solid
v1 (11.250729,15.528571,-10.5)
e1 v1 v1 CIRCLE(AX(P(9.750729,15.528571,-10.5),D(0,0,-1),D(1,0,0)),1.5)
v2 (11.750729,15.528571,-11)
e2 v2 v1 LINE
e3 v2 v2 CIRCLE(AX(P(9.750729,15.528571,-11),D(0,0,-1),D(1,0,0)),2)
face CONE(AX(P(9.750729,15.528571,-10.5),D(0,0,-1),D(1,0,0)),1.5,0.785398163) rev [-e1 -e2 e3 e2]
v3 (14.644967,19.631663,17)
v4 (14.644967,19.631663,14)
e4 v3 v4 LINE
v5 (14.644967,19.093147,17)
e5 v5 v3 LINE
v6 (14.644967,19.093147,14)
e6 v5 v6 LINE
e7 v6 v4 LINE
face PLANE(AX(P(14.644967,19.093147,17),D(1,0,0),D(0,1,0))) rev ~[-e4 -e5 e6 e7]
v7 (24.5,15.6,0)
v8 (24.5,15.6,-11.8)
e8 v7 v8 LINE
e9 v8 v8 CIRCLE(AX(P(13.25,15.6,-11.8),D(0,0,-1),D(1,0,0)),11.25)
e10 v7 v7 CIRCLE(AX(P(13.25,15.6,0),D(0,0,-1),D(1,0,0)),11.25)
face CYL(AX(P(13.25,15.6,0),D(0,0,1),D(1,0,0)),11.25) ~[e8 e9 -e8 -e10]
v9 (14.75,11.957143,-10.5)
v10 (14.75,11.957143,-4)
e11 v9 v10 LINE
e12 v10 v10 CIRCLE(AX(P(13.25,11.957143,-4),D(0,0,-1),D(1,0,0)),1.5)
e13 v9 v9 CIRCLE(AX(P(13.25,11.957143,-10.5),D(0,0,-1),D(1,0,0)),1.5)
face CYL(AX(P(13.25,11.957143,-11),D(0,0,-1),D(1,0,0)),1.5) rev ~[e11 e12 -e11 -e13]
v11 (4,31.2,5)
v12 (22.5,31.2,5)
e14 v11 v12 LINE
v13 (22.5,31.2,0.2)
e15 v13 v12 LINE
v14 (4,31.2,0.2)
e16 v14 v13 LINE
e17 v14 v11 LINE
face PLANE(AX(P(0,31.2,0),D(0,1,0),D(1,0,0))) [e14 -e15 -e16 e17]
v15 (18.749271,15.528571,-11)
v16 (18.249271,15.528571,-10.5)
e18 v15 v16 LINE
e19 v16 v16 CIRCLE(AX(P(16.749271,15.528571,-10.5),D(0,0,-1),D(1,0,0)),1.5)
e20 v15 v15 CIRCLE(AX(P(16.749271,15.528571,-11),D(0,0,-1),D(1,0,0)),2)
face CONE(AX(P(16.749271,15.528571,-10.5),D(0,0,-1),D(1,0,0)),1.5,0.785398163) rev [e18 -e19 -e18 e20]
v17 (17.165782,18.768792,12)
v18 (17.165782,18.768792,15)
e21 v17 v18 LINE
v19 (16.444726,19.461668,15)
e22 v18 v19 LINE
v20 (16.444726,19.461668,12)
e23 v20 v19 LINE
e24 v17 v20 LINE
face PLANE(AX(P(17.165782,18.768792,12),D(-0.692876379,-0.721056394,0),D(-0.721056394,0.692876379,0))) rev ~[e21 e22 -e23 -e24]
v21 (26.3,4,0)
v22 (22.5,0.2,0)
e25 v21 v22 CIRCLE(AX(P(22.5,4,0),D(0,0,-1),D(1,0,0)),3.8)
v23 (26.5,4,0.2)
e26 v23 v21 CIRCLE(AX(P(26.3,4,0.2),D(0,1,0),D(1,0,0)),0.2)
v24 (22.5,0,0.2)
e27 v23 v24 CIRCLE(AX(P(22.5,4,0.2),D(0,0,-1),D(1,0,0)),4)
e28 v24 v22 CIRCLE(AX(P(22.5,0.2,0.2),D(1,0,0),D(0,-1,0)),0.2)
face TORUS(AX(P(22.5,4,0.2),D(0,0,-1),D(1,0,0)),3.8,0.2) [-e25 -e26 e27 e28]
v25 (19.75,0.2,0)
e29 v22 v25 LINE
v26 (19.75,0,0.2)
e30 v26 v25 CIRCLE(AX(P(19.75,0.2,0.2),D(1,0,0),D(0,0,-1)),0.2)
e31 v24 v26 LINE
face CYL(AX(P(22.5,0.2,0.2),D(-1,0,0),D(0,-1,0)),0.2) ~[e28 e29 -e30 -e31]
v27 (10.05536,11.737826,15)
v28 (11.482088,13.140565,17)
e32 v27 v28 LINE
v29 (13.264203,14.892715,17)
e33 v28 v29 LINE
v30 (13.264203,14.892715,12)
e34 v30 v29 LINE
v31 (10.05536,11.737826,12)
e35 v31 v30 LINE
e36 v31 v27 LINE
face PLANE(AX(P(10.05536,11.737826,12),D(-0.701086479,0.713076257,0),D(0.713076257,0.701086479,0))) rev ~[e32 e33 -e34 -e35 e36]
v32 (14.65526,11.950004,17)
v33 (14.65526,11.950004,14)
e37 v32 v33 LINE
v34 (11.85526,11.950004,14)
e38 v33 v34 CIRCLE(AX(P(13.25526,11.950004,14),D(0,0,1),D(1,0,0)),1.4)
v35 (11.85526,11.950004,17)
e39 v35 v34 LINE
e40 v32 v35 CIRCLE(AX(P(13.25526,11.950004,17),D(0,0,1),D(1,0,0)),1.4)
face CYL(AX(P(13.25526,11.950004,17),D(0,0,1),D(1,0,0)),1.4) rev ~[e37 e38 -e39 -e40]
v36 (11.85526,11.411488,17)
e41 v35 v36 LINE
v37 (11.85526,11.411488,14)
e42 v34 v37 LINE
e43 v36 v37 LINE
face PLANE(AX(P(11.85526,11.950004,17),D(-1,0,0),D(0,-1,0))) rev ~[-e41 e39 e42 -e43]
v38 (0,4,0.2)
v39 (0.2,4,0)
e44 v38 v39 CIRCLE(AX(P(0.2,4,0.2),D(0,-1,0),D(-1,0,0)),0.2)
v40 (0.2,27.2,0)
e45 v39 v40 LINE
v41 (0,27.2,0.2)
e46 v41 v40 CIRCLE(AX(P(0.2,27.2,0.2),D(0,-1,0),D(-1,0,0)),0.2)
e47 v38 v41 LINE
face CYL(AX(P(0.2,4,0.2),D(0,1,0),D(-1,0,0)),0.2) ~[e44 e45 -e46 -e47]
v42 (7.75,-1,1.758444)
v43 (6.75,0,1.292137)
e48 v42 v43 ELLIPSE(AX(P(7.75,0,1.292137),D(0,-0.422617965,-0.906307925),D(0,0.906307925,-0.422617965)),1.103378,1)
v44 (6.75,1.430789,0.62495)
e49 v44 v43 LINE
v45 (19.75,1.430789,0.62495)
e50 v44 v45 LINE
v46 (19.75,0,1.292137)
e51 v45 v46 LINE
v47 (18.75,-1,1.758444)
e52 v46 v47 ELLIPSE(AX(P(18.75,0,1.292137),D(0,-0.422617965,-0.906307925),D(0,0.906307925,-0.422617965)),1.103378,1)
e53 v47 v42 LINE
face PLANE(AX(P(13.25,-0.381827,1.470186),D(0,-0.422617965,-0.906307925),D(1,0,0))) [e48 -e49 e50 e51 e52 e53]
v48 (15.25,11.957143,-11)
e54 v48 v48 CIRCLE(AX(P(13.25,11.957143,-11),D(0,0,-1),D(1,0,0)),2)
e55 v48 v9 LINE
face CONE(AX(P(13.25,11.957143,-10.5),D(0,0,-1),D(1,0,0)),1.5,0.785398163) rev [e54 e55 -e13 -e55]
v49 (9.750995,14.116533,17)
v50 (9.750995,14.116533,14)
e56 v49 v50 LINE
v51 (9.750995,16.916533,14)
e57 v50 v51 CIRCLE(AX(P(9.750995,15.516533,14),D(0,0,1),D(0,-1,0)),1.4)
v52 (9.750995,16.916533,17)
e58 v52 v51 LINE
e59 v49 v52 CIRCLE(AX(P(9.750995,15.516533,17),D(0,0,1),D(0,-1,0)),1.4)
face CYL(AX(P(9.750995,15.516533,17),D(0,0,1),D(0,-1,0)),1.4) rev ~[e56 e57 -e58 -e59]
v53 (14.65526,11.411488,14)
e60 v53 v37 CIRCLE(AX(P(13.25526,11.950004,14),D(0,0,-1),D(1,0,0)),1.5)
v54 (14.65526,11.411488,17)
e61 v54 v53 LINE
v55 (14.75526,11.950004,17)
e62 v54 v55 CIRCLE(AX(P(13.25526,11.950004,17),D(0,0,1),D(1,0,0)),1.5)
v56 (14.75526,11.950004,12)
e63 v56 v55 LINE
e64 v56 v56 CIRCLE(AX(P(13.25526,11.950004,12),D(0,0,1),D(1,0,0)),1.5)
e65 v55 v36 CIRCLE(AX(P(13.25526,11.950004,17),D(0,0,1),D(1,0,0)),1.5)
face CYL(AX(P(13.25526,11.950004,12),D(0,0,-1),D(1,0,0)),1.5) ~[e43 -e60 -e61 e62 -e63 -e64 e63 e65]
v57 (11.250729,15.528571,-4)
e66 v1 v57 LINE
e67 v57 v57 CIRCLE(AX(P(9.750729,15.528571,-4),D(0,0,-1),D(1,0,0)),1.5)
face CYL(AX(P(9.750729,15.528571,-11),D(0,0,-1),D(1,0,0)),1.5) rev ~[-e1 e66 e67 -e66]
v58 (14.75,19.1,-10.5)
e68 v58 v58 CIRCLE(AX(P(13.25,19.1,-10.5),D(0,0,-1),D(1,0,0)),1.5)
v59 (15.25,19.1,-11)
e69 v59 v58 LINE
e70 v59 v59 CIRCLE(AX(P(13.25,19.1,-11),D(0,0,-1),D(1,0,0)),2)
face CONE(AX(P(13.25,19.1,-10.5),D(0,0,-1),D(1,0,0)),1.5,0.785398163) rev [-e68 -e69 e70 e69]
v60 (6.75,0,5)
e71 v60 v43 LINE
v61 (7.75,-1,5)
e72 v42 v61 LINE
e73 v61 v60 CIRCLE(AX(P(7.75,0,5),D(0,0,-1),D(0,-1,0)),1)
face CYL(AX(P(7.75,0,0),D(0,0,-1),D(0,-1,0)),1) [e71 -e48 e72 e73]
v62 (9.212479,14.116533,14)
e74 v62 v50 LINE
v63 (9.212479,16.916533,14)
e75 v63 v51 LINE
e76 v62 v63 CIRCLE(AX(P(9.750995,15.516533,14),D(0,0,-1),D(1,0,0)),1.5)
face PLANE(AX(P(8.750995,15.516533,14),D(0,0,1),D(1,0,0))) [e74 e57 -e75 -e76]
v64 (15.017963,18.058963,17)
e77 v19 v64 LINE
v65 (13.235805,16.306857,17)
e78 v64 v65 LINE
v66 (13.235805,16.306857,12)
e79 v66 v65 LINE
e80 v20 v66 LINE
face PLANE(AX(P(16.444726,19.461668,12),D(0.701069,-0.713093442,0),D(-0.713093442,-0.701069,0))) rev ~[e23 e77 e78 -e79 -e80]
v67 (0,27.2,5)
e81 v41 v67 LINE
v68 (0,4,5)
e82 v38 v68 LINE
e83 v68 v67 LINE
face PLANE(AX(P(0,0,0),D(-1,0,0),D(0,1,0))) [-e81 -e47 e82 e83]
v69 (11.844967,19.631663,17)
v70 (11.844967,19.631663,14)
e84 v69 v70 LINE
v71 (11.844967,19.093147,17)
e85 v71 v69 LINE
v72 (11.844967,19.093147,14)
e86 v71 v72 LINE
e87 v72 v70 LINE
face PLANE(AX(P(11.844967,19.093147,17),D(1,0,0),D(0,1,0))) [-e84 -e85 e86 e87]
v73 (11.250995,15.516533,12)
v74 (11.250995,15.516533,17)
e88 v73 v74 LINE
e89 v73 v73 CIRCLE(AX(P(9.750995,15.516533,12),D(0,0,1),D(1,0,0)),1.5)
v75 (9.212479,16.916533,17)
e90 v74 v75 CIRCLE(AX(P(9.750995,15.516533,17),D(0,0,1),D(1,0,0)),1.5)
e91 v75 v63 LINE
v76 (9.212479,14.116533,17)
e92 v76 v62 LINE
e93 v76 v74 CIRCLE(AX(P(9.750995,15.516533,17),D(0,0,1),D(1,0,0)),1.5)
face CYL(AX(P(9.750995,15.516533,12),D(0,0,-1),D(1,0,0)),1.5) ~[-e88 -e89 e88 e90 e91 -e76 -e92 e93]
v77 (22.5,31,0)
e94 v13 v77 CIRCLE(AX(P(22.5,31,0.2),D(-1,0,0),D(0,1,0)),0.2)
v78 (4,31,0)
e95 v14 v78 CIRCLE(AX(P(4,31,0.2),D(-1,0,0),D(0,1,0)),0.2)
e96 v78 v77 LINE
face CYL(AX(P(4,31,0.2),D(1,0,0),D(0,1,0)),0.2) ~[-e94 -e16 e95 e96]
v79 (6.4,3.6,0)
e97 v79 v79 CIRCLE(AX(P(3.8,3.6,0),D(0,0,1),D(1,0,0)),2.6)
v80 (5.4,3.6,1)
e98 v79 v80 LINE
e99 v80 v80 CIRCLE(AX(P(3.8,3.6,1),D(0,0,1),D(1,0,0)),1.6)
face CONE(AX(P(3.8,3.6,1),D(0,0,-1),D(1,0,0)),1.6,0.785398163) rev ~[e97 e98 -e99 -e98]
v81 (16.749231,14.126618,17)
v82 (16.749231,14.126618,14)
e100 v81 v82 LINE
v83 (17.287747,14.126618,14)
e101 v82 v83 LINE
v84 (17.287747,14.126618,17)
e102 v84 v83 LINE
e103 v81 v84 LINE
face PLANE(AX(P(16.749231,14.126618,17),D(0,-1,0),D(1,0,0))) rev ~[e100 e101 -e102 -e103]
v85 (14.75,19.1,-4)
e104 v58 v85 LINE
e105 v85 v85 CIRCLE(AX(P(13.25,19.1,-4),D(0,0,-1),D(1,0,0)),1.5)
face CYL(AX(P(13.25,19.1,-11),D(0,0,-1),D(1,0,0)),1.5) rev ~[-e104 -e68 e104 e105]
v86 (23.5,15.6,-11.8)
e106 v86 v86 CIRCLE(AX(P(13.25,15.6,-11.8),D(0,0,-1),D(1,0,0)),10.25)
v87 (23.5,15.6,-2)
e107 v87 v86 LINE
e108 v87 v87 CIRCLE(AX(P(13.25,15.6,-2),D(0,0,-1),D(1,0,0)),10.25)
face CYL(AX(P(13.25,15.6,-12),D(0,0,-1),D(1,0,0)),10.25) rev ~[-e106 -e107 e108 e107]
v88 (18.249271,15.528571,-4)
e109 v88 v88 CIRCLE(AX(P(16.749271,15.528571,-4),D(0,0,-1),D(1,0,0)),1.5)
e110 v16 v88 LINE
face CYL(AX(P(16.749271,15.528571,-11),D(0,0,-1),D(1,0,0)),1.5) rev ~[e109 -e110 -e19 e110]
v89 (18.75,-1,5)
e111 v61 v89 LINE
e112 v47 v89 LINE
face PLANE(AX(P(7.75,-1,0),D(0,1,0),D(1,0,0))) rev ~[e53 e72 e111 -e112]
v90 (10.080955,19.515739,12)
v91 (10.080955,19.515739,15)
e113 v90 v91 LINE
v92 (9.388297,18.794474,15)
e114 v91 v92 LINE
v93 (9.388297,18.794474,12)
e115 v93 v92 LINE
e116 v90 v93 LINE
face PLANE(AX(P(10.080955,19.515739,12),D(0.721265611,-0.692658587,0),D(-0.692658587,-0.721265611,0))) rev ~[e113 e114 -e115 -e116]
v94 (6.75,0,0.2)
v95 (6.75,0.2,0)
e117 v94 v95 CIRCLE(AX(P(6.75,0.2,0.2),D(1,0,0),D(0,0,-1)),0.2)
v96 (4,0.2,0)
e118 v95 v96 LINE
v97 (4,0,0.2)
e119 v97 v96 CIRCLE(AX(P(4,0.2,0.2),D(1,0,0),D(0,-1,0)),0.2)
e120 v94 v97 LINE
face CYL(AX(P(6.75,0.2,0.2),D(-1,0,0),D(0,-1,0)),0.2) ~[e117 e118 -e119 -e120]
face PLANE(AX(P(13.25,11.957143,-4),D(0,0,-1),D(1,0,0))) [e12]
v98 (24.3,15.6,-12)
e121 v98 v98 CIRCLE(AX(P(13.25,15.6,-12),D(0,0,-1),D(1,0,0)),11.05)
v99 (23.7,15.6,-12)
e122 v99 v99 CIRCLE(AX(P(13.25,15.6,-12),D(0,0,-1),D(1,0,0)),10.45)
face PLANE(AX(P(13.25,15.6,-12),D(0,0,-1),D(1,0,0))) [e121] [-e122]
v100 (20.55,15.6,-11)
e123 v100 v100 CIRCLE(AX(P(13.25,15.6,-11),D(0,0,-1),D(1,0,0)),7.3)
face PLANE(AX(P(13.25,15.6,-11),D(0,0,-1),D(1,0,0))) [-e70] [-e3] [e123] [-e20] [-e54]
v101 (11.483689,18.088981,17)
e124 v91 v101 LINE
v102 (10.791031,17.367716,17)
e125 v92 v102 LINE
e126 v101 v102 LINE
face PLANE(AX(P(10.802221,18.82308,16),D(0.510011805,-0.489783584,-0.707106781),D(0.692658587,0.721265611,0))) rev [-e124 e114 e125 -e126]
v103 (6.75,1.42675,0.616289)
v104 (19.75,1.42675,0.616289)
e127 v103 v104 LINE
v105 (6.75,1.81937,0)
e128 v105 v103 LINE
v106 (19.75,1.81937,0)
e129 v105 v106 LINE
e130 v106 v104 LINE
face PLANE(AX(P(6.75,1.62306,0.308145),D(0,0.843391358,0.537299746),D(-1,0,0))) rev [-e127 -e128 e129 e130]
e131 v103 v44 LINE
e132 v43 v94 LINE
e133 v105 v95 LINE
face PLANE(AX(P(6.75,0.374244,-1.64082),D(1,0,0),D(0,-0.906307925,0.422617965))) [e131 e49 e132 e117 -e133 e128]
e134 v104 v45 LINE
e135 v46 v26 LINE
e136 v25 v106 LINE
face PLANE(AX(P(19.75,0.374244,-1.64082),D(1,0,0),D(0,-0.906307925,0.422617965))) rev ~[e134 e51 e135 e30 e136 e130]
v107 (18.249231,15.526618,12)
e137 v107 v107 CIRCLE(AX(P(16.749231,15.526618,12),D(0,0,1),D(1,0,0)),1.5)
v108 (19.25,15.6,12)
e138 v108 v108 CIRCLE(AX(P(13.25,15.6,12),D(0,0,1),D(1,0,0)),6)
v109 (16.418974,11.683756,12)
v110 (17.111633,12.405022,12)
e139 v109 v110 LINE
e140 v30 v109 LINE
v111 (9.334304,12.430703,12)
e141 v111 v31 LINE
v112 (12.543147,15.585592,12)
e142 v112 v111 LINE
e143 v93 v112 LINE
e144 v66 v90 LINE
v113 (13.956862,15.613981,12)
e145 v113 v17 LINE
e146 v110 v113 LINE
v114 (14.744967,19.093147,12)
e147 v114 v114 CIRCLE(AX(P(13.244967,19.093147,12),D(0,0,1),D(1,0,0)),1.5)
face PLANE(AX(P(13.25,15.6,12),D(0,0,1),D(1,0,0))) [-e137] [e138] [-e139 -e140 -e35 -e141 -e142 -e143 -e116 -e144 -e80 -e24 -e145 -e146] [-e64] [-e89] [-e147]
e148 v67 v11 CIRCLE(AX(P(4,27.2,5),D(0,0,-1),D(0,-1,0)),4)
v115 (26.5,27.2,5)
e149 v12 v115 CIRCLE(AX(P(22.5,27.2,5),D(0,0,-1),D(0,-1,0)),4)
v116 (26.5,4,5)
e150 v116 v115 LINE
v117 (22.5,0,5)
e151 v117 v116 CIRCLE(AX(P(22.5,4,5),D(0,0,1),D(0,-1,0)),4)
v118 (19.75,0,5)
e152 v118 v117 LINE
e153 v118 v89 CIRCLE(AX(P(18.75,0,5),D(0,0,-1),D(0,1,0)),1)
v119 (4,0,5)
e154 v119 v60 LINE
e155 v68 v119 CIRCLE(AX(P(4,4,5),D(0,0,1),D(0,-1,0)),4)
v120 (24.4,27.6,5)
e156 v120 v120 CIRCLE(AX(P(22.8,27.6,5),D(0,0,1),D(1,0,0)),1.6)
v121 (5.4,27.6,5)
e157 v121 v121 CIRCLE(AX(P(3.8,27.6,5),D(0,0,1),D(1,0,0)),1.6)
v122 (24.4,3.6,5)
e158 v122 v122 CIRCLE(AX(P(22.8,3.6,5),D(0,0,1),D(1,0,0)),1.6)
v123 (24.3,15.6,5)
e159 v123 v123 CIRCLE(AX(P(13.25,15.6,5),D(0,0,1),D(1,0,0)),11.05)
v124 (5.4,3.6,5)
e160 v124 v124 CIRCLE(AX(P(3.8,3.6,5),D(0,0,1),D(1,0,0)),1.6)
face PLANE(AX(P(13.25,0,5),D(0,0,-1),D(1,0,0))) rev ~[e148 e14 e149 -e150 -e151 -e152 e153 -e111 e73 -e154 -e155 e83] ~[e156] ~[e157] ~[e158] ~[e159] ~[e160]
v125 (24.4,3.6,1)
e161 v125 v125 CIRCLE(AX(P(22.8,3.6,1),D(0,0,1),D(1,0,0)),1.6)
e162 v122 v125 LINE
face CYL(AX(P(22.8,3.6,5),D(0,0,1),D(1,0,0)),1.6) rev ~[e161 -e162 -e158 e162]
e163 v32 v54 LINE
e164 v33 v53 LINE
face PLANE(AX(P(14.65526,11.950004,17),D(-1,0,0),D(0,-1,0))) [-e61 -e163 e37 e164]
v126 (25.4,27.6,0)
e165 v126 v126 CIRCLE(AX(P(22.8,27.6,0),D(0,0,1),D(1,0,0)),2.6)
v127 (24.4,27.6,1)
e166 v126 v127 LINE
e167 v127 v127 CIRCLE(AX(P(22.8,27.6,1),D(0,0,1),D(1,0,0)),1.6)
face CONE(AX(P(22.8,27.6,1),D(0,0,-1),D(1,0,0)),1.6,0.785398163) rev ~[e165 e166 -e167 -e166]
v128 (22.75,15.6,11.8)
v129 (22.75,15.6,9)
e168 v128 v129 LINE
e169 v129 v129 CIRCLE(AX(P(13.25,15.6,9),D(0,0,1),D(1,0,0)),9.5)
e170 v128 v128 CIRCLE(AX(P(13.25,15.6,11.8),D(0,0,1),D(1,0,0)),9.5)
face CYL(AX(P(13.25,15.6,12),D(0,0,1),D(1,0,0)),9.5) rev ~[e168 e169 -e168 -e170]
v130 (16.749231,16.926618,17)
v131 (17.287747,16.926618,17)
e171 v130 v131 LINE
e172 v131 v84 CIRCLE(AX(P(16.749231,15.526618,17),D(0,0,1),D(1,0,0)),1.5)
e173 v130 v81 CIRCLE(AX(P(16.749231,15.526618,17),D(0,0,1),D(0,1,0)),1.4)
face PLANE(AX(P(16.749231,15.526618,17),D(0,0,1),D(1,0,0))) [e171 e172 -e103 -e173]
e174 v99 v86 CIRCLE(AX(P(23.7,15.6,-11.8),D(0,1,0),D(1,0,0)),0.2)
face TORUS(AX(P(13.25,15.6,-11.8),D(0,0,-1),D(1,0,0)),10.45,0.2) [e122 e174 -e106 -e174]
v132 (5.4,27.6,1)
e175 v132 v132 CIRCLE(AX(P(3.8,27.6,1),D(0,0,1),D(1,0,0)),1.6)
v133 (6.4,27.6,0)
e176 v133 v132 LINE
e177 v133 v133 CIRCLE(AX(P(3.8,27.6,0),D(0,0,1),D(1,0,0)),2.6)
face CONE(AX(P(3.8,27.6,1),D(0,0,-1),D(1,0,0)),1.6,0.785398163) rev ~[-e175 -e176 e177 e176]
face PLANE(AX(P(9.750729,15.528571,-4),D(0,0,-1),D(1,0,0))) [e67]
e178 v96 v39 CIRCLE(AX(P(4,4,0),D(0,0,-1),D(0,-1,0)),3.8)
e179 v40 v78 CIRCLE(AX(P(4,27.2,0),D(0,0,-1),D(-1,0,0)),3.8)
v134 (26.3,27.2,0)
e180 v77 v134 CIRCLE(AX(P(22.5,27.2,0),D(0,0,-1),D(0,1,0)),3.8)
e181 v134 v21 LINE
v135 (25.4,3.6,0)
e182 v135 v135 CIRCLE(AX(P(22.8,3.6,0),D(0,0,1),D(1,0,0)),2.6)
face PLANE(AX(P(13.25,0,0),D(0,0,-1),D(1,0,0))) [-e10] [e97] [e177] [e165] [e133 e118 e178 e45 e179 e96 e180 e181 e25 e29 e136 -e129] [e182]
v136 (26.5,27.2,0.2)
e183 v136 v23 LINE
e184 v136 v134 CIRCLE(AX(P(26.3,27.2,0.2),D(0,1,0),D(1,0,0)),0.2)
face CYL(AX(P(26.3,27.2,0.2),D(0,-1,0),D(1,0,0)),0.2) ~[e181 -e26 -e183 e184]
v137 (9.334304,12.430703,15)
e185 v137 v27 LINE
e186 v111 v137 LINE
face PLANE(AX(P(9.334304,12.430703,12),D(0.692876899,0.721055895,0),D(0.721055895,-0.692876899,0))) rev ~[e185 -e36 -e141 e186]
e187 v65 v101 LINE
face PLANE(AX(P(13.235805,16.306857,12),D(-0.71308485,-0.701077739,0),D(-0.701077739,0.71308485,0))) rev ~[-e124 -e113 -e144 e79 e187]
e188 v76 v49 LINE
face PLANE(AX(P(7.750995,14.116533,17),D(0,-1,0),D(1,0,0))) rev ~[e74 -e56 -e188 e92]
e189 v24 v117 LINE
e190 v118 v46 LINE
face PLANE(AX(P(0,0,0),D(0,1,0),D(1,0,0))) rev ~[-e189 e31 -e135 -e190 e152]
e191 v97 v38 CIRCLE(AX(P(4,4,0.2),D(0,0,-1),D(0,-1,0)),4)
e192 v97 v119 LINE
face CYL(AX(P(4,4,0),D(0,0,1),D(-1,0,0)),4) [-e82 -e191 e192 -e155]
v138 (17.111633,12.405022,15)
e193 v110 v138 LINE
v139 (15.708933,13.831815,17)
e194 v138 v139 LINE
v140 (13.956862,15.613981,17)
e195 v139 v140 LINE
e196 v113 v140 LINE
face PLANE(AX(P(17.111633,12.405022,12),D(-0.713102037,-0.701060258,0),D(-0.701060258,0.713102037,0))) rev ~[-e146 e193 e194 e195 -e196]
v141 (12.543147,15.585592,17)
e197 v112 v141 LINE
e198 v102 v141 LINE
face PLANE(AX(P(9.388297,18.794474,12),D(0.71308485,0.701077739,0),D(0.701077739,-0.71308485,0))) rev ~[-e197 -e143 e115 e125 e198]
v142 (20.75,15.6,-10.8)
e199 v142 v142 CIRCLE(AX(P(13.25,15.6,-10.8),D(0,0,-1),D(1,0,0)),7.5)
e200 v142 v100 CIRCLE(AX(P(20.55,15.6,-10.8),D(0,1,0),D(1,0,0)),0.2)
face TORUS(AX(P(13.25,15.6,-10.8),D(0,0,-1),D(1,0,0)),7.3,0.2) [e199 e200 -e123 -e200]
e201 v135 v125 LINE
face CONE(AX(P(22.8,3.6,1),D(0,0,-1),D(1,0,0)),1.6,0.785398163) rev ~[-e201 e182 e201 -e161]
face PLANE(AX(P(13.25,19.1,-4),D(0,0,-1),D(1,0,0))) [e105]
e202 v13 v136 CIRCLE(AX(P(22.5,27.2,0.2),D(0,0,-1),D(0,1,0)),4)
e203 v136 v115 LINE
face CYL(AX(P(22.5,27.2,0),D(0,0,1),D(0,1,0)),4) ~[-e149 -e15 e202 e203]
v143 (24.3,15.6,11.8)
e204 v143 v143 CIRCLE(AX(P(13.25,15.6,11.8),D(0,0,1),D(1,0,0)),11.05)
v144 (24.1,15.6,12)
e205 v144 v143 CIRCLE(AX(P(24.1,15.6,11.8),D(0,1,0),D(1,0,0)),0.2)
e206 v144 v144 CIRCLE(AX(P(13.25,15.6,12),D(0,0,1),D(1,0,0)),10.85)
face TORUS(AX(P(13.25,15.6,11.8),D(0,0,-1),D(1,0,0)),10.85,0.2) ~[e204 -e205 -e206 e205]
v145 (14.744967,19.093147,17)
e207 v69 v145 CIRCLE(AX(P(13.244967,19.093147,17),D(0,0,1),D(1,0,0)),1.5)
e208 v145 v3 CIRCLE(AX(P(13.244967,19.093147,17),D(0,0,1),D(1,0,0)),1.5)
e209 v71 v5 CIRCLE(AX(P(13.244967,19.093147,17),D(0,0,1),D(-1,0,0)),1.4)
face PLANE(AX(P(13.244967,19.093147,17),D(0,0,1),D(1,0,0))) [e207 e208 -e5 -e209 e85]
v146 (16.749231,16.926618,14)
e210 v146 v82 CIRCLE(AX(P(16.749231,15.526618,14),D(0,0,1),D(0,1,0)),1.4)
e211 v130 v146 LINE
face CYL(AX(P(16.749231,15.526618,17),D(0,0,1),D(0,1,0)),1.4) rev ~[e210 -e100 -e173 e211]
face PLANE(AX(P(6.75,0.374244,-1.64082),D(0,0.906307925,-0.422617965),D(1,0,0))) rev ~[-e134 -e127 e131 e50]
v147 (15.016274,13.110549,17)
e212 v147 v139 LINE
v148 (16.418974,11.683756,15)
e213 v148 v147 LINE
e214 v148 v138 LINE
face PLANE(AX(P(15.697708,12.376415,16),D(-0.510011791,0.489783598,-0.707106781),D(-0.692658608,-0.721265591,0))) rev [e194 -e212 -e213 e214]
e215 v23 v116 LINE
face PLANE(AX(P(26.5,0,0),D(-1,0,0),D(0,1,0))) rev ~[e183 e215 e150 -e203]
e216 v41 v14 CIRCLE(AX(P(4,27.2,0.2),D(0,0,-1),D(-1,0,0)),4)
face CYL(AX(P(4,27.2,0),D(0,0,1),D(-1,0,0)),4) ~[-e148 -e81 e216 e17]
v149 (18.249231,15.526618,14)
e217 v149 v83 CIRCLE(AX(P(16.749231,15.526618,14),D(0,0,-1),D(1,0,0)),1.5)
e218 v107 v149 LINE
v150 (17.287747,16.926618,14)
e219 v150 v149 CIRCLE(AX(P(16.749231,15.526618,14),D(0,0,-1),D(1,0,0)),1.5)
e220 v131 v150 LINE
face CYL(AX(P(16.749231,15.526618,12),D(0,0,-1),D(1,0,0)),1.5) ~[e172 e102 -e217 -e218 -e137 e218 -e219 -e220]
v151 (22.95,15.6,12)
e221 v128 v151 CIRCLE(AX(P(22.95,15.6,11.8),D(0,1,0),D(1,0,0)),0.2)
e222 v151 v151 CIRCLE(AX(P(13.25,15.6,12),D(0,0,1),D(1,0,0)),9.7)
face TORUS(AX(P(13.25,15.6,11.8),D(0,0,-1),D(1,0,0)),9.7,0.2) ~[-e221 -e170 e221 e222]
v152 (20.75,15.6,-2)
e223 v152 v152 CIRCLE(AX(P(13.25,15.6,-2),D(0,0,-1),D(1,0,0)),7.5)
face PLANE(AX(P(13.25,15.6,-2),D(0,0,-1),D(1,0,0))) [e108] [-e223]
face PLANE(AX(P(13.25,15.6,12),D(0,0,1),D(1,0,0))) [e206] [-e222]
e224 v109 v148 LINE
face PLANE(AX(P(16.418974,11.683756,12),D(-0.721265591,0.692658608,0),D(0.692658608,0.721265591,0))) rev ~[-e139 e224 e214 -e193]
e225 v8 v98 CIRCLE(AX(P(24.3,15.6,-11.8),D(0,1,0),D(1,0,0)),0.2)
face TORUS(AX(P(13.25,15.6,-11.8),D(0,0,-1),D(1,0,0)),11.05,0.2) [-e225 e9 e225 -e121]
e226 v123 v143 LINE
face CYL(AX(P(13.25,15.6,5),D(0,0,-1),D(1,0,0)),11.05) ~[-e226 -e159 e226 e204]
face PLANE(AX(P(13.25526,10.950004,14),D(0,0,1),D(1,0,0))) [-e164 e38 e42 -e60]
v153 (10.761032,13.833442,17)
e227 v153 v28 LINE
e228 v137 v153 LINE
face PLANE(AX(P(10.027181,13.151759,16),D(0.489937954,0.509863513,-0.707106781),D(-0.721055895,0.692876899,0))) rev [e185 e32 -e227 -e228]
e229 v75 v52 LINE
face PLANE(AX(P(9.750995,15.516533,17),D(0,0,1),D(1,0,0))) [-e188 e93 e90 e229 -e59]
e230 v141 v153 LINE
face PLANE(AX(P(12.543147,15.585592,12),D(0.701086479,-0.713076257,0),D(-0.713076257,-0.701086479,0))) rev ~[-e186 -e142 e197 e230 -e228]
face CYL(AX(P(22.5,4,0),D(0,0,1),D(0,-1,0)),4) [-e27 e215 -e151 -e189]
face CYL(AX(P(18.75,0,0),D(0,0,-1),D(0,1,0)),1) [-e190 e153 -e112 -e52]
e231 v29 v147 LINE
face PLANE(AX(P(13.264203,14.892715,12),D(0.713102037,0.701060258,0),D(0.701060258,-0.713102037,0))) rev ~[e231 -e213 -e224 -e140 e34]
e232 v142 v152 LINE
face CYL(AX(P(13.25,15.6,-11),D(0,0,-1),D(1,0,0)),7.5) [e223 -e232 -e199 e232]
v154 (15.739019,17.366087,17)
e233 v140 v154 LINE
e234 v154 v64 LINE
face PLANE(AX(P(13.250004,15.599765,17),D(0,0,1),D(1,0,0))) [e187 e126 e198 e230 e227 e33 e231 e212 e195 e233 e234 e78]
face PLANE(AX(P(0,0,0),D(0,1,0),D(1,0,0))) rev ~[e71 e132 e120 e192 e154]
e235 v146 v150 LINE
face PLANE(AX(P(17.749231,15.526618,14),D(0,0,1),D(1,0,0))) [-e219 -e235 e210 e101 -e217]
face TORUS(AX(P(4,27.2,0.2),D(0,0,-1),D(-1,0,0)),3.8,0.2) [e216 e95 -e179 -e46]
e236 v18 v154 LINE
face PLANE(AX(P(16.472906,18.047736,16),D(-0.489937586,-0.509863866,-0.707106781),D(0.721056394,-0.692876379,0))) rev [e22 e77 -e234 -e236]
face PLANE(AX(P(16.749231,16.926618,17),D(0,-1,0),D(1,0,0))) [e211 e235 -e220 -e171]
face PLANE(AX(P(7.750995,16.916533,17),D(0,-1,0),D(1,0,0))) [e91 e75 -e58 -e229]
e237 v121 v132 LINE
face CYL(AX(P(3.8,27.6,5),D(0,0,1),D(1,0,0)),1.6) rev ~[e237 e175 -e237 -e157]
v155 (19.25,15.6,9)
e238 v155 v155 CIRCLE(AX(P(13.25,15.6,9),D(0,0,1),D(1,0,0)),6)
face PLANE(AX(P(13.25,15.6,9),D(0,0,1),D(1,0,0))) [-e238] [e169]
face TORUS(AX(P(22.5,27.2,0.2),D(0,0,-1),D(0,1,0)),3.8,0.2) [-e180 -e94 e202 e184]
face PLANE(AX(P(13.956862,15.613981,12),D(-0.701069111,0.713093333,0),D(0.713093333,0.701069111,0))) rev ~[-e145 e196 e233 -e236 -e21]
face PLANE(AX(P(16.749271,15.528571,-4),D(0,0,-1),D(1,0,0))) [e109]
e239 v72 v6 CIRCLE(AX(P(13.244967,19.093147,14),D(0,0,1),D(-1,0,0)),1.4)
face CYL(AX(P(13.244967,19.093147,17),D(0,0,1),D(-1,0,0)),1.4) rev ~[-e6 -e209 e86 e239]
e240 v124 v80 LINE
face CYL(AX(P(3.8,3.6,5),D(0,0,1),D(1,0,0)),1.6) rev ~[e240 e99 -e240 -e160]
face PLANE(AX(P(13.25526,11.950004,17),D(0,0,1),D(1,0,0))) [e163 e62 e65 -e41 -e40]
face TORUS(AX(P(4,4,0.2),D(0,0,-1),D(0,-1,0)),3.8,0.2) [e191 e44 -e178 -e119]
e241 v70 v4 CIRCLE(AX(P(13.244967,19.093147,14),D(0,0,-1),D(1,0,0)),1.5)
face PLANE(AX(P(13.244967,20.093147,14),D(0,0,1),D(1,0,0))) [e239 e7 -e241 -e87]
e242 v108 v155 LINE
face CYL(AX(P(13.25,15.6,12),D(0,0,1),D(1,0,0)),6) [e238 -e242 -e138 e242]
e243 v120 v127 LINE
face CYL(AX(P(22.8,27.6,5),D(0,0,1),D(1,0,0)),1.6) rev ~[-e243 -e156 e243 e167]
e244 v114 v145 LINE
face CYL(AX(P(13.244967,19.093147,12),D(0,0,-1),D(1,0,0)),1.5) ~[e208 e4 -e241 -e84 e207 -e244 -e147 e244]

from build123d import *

# Parameters (mm, degrees)
SKETCH_W        = 26.5
SKETCH_H        = 31.2
PAD_DEPTH       = 5
SKETCH001_R     = 1.6
POCKET_DEPTH    = 5
FILLET_R        = 4
SKETCH002_R     = 11.25
PAD001_DEPTH    = 12
SKETCH003_R     = 11.05
PAD002_DEPTH    = 7
CHAMFER_SIZE    = 1
PAD003_DEPTH    = 5
SKETCH005_W     = 13
SKETCH005_H     = 4
POCKET001_DEPTH = 2.5
CHAMFER001_SIZE = 0.68
SKETCH006_R     = 10.25
POCKET002_DEPTH = 1
SKETCH007_R     = 10.25
SKETCH007_R_2   = 7.5
POCKET003_DEPTH = 9
SKETCH008_R     = 1.5
POCKET004_DEPTH = 7
CHAMFER002_SIZE = 0.5
SKETCH009_R     = 1.5
PAD004_DEPTH    = 5
CHAMFER003_SIZE = 2
POCKET005_DEPTH = 3
SKETCH011_R     = 9.5
SKETCH011_R_2   = 6
POCKET006_DEPTH = 3
FILLET001_R     = 0.2


with BuildPart() as part:
    # Sketch → Pad (new body)
    with BuildSketch(Plane.XY):
        with Locations((13.25, 15.6)):
            Rectangle(SKETCH_W, SKETCH_H)
    extrude(amount=PAD_DEPTH)

    # Sketch001 (on Face6 of Pad) → Pocket (cut)
    with BuildSketch(Plane.XY.offset(5)):
        with Locations((3.8, 27.6)):
            Circle(SKETCH001_R)
        with Locations((22.8, 27.6)):
            Circle(SKETCH001_R)
        with Locations((22.8, 3.6)):
            Circle(SKETCH001_R)
        with Locations((3.8, 3.6)):
            Circle(SKETCH001_R)
    extrude(amount=-POCKET_DEPTH, mode=Mode.SUBTRACT)

    # Fillet
    fillet_edges = [part.edges().sort_by_distance(p)[0] for p in [
        (26.5, 31.2, 2.5),
        (26.5, 0, 2.5),
        (0, 31.2, 2.5),
        (0, 0, 2.5),
    ]]
    fillet(fillet_edges, radius=FILLET_R)

    # Sketch002 (on Face2 of Fillet) → Pad001 (join)
    with BuildSketch(Plane(origin=(0, 0, 0), x_dir=(1, 0, 0), z_dir=(0, 0, -1))):
        with Locations((13.25, -15.6)):
            Circle(SKETCH002_R)
    extrude(amount=PAD001_DEPTH)

    # Sketch003 (on Face5 of Pad001) → Pad002 (join)
    with BuildSketch(Plane.XY.offset(5)):
        with Locations((13.25, 15.6)):
            Circle(SKETCH003_R)
    extrude(amount=PAD002_DEPTH)

    # Chamfer
    chamfer_edges = [part.edges().sort_by_distance(p)[0] for p in [
        (21.2, 27.6, 0),
        (2.2, 3.6, 0),
        (21.2, 3.6, 0),
        (2.2, 27.6, 0),
    ]]
    chamfer(chamfer_edges, length=CHAMFER_SIZE)

    # Sketch004 (on Face1 of Chamfer) → Pad003 (join)
    with BuildSketch(Plane(origin=(0, 0, 0), x_dir=(1, 0, 0), z_dir=(0, 0, -1))):
        with BuildLine():
            ThreePointArc((7.75, 1), (6.75, 0), (7.75, -1))
            Line((7.75, -1), (18.75, -1))
            ThreePointArc((18.75, -1), (19.75, 0), (18.75, 1))
            Line((7.75, 1), (18.75, 1))
        make_face()
    extrude(amount=-PAD003_DEPTH)

    # Sketch005 (on Face1 of Pad003) → Pocket001 (cut)
    with BuildSketch(Plane(origin=(0, -1, -1), x_dir=(1, 0, 0), z_dir=(0, -0.422618, -0.906308))):
        with Locations((13.25, 0.48369)):
            Rectangle(SKETCH005_W, SKETCH005_H)
    extrude(amount=-POCKET001_DEPTH, mode=Mode.SUBTRACT)

    # Chamfer001
    chamfer001_edges = [part.edges().sort_by_distance(p)[0] for p in [
        (13.25, 1.139371, 0),
    ]]
    chamfer(chamfer001_edges, length=CHAMFER001_SIZE)

    # Sketch006 (on Face25 of Chamfer001) → Pocket002 (cut)
    with BuildSketch(Plane(origin=(0, 0, -12), x_dir=(1, 0, 0), z_dir=(0, 0, -1))):
        with Locations((13.25, -15.6)):
            Circle(SKETCH006_R)
    extrude(amount=-POCKET002_DEPTH, mode=Mode.SUBTRACT)

    # Sketch007 (on Face35 of Pocket002) → Pocket003 (cut)
    with BuildSketch(Plane(origin=(0, 0, -11), x_dir=(1, 0, 0), z_dir=(0, 0, -1))):
        with Locations((13.25, -15.6)):
            Circle(SKETCH007_R)
        with Locations((13.25, -15.6)):
            Circle(SKETCH007_R_2, mode=Mode.SUBTRACT)
    extrude(amount=-POCKET003_DEPTH, mode=Mode.SUBTRACT)

    # Sketch008 (on Face38 of Pocket003) → Pocket004 (cut)
    with BuildSketch(Plane(origin=(0, 0, -11), x_dir=(1, 0, 0), z_dir=(0, 0, -1))):
        with Locations((13.25, -11.957143)):
            Circle(SKETCH008_R)
        with Locations((16.749271, -15.528571)):
            Circle(SKETCH008_R)
        with Locations((9.750729, -15.528571)):
            Circle(SKETCH008_R)
        with Locations((13.25, -19.1)):
            Circle(SKETCH008_R)
    extrude(amount=-POCKET004_DEPTH, mode=Mode.SUBTRACT)

    # Chamfer002
    chamfer002_edges = [part.edges().sort_by_distance(p)[0] for p in [
        (11.75, 19.1, -11),
        (15.249271, 15.528571, -11),
        (11.75, 11.957143, -11),
        (8.250729, 15.528571, -11),
    ]]
    chamfer(chamfer002_edges, length=CHAMFER002_SIZE)

    # Sketch009 (on Face50 of Chamfer002) → Pad004 (join)
    with BuildSketch(Plane.XY.offset(12)):
        with Locations((9.750995, 15.516533)):
            Circle(SKETCH009_R)
        with Locations((13.244967, 19.093147)):
            Circle(SKETCH009_R)
        with Locations((16.749231, 15.526618)):
            Circle(SKETCH009_R)
        with Locations((13.25526, 11.950004)):
            Circle(SKETCH009_R)
        Polygon((10.080955, 19.515739), (9.388297, 18.794474), (12.543147, 15.585592), (9.334304, 12.430703), (10.05536, 11.737826), (13.264203, 14.892715), (16.418974, 11.683756), (17.111633, 12.405022), (13.956862, 15.613981), (17.165782, 18.768792), (16.444726, 19.461668), (13.235805, 16.306857), align=None)
    extrude(amount=PAD004_DEPTH)

    # Chamfer003
    chamfer003_edges = [part.edges().sort_by_distance(p)[0] for p in [
        (9.734626, 19.155106, 17),
        (16.805254, 19.11523, 17),
        (16.765304, 12.044389, 17),
        (9.694832, 12.084264, 17),
    ]]
    chamfer(chamfer003_edges, length=CHAMFER003_SIZE)

    # Sketch010 (on Face26 of Chamfer003) → Pocket005 (cut)
    with BuildSketch(Plane.XY.offset(17)):
        with BuildLine():
            ThreePointArc((11.844967, 19.093147), (13.244967, 17.693147), (14.644967, 19.093147))
            Line((14.644967, 19.093147), (14.644967, 21.093147))
            ThreePointArc((14.644967, 21.093147), (13.244967, 22.493147), (11.844967, 21.093147))
            Line((11.844967, 19.093147), (11.844967, 21.093147))
        make_face()
        with BuildLine():
            ThreePointArc((16.749231, 16.926618), (15.349231, 15.526618), (16.749231, 14.126618))
            Line((16.749231, 14.126618), (18.749231, 14.126618))
            ThreePointArc((18.749231, 14.126618), (20.149231, 15.526618), (18.749231, 16.926618))
            Line((16.749231, 16.926618), (18.749231, 16.926618))
        make_face()
        with BuildLine():
            ThreePointArc((14.65526, 11.950004), (13.25526, 13.350004), (11.85526, 11.950004))
            Line((11.85526, 11.950004), (11.85526, 9.950004))
            ThreePointArc((11.85526, 9.950004), (13.25526, 8.550004), (14.65526, 9.950004))
            Line((14.65526, 11.950004), (14.65526, 9.950004))
        make_face()
        with BuildLine():
            ThreePointArc((7.750995, 16.916533), (6.350995, 15.516533), (7.750995, 14.116533))
            Line((7.750995, 14.116533), (9.750995, 14.116533))
            ThreePointArc((9.750995, 14.116533), (11.150995, 15.516533), (9.750995, 16.916533))
            Line((7.750995, 16.916533), (9.750995, 16.916533))
        make_face()
    extrude(amount=-POCKET005_DEPTH, mode=Mode.SUBTRACT)

    # Sketch011 (on Face4 of Pocket005) → Pocket006 (cut)
    with BuildSketch(Plane.XY.offset(12)):
        with Locations((13.25, 15.6)):
            Circle(SKETCH011_R)
        with Locations((13.25, 15.6)):
            Circle(SKETCH011_R_2, mode=Mode.SUBTRACT)
    extrude(amount=-POCKET006_DEPTH, mode=Mode.SUBTRACT)

    # Fillet001
    fillet001_edges = [part.edges().sort_by_distance(p)[0] for p in [
        (2, 15.6, -12),
        (3, 15.6, -12),
        (5.75, 15.6, -11),
        (0, 15.6, 0),
        (2.2, 15.6, 12),
        (3.75, 15.6, 12),
    ]]
    fillet(fillet001_edges, radius=FILLET001_R)


solid = part.part
